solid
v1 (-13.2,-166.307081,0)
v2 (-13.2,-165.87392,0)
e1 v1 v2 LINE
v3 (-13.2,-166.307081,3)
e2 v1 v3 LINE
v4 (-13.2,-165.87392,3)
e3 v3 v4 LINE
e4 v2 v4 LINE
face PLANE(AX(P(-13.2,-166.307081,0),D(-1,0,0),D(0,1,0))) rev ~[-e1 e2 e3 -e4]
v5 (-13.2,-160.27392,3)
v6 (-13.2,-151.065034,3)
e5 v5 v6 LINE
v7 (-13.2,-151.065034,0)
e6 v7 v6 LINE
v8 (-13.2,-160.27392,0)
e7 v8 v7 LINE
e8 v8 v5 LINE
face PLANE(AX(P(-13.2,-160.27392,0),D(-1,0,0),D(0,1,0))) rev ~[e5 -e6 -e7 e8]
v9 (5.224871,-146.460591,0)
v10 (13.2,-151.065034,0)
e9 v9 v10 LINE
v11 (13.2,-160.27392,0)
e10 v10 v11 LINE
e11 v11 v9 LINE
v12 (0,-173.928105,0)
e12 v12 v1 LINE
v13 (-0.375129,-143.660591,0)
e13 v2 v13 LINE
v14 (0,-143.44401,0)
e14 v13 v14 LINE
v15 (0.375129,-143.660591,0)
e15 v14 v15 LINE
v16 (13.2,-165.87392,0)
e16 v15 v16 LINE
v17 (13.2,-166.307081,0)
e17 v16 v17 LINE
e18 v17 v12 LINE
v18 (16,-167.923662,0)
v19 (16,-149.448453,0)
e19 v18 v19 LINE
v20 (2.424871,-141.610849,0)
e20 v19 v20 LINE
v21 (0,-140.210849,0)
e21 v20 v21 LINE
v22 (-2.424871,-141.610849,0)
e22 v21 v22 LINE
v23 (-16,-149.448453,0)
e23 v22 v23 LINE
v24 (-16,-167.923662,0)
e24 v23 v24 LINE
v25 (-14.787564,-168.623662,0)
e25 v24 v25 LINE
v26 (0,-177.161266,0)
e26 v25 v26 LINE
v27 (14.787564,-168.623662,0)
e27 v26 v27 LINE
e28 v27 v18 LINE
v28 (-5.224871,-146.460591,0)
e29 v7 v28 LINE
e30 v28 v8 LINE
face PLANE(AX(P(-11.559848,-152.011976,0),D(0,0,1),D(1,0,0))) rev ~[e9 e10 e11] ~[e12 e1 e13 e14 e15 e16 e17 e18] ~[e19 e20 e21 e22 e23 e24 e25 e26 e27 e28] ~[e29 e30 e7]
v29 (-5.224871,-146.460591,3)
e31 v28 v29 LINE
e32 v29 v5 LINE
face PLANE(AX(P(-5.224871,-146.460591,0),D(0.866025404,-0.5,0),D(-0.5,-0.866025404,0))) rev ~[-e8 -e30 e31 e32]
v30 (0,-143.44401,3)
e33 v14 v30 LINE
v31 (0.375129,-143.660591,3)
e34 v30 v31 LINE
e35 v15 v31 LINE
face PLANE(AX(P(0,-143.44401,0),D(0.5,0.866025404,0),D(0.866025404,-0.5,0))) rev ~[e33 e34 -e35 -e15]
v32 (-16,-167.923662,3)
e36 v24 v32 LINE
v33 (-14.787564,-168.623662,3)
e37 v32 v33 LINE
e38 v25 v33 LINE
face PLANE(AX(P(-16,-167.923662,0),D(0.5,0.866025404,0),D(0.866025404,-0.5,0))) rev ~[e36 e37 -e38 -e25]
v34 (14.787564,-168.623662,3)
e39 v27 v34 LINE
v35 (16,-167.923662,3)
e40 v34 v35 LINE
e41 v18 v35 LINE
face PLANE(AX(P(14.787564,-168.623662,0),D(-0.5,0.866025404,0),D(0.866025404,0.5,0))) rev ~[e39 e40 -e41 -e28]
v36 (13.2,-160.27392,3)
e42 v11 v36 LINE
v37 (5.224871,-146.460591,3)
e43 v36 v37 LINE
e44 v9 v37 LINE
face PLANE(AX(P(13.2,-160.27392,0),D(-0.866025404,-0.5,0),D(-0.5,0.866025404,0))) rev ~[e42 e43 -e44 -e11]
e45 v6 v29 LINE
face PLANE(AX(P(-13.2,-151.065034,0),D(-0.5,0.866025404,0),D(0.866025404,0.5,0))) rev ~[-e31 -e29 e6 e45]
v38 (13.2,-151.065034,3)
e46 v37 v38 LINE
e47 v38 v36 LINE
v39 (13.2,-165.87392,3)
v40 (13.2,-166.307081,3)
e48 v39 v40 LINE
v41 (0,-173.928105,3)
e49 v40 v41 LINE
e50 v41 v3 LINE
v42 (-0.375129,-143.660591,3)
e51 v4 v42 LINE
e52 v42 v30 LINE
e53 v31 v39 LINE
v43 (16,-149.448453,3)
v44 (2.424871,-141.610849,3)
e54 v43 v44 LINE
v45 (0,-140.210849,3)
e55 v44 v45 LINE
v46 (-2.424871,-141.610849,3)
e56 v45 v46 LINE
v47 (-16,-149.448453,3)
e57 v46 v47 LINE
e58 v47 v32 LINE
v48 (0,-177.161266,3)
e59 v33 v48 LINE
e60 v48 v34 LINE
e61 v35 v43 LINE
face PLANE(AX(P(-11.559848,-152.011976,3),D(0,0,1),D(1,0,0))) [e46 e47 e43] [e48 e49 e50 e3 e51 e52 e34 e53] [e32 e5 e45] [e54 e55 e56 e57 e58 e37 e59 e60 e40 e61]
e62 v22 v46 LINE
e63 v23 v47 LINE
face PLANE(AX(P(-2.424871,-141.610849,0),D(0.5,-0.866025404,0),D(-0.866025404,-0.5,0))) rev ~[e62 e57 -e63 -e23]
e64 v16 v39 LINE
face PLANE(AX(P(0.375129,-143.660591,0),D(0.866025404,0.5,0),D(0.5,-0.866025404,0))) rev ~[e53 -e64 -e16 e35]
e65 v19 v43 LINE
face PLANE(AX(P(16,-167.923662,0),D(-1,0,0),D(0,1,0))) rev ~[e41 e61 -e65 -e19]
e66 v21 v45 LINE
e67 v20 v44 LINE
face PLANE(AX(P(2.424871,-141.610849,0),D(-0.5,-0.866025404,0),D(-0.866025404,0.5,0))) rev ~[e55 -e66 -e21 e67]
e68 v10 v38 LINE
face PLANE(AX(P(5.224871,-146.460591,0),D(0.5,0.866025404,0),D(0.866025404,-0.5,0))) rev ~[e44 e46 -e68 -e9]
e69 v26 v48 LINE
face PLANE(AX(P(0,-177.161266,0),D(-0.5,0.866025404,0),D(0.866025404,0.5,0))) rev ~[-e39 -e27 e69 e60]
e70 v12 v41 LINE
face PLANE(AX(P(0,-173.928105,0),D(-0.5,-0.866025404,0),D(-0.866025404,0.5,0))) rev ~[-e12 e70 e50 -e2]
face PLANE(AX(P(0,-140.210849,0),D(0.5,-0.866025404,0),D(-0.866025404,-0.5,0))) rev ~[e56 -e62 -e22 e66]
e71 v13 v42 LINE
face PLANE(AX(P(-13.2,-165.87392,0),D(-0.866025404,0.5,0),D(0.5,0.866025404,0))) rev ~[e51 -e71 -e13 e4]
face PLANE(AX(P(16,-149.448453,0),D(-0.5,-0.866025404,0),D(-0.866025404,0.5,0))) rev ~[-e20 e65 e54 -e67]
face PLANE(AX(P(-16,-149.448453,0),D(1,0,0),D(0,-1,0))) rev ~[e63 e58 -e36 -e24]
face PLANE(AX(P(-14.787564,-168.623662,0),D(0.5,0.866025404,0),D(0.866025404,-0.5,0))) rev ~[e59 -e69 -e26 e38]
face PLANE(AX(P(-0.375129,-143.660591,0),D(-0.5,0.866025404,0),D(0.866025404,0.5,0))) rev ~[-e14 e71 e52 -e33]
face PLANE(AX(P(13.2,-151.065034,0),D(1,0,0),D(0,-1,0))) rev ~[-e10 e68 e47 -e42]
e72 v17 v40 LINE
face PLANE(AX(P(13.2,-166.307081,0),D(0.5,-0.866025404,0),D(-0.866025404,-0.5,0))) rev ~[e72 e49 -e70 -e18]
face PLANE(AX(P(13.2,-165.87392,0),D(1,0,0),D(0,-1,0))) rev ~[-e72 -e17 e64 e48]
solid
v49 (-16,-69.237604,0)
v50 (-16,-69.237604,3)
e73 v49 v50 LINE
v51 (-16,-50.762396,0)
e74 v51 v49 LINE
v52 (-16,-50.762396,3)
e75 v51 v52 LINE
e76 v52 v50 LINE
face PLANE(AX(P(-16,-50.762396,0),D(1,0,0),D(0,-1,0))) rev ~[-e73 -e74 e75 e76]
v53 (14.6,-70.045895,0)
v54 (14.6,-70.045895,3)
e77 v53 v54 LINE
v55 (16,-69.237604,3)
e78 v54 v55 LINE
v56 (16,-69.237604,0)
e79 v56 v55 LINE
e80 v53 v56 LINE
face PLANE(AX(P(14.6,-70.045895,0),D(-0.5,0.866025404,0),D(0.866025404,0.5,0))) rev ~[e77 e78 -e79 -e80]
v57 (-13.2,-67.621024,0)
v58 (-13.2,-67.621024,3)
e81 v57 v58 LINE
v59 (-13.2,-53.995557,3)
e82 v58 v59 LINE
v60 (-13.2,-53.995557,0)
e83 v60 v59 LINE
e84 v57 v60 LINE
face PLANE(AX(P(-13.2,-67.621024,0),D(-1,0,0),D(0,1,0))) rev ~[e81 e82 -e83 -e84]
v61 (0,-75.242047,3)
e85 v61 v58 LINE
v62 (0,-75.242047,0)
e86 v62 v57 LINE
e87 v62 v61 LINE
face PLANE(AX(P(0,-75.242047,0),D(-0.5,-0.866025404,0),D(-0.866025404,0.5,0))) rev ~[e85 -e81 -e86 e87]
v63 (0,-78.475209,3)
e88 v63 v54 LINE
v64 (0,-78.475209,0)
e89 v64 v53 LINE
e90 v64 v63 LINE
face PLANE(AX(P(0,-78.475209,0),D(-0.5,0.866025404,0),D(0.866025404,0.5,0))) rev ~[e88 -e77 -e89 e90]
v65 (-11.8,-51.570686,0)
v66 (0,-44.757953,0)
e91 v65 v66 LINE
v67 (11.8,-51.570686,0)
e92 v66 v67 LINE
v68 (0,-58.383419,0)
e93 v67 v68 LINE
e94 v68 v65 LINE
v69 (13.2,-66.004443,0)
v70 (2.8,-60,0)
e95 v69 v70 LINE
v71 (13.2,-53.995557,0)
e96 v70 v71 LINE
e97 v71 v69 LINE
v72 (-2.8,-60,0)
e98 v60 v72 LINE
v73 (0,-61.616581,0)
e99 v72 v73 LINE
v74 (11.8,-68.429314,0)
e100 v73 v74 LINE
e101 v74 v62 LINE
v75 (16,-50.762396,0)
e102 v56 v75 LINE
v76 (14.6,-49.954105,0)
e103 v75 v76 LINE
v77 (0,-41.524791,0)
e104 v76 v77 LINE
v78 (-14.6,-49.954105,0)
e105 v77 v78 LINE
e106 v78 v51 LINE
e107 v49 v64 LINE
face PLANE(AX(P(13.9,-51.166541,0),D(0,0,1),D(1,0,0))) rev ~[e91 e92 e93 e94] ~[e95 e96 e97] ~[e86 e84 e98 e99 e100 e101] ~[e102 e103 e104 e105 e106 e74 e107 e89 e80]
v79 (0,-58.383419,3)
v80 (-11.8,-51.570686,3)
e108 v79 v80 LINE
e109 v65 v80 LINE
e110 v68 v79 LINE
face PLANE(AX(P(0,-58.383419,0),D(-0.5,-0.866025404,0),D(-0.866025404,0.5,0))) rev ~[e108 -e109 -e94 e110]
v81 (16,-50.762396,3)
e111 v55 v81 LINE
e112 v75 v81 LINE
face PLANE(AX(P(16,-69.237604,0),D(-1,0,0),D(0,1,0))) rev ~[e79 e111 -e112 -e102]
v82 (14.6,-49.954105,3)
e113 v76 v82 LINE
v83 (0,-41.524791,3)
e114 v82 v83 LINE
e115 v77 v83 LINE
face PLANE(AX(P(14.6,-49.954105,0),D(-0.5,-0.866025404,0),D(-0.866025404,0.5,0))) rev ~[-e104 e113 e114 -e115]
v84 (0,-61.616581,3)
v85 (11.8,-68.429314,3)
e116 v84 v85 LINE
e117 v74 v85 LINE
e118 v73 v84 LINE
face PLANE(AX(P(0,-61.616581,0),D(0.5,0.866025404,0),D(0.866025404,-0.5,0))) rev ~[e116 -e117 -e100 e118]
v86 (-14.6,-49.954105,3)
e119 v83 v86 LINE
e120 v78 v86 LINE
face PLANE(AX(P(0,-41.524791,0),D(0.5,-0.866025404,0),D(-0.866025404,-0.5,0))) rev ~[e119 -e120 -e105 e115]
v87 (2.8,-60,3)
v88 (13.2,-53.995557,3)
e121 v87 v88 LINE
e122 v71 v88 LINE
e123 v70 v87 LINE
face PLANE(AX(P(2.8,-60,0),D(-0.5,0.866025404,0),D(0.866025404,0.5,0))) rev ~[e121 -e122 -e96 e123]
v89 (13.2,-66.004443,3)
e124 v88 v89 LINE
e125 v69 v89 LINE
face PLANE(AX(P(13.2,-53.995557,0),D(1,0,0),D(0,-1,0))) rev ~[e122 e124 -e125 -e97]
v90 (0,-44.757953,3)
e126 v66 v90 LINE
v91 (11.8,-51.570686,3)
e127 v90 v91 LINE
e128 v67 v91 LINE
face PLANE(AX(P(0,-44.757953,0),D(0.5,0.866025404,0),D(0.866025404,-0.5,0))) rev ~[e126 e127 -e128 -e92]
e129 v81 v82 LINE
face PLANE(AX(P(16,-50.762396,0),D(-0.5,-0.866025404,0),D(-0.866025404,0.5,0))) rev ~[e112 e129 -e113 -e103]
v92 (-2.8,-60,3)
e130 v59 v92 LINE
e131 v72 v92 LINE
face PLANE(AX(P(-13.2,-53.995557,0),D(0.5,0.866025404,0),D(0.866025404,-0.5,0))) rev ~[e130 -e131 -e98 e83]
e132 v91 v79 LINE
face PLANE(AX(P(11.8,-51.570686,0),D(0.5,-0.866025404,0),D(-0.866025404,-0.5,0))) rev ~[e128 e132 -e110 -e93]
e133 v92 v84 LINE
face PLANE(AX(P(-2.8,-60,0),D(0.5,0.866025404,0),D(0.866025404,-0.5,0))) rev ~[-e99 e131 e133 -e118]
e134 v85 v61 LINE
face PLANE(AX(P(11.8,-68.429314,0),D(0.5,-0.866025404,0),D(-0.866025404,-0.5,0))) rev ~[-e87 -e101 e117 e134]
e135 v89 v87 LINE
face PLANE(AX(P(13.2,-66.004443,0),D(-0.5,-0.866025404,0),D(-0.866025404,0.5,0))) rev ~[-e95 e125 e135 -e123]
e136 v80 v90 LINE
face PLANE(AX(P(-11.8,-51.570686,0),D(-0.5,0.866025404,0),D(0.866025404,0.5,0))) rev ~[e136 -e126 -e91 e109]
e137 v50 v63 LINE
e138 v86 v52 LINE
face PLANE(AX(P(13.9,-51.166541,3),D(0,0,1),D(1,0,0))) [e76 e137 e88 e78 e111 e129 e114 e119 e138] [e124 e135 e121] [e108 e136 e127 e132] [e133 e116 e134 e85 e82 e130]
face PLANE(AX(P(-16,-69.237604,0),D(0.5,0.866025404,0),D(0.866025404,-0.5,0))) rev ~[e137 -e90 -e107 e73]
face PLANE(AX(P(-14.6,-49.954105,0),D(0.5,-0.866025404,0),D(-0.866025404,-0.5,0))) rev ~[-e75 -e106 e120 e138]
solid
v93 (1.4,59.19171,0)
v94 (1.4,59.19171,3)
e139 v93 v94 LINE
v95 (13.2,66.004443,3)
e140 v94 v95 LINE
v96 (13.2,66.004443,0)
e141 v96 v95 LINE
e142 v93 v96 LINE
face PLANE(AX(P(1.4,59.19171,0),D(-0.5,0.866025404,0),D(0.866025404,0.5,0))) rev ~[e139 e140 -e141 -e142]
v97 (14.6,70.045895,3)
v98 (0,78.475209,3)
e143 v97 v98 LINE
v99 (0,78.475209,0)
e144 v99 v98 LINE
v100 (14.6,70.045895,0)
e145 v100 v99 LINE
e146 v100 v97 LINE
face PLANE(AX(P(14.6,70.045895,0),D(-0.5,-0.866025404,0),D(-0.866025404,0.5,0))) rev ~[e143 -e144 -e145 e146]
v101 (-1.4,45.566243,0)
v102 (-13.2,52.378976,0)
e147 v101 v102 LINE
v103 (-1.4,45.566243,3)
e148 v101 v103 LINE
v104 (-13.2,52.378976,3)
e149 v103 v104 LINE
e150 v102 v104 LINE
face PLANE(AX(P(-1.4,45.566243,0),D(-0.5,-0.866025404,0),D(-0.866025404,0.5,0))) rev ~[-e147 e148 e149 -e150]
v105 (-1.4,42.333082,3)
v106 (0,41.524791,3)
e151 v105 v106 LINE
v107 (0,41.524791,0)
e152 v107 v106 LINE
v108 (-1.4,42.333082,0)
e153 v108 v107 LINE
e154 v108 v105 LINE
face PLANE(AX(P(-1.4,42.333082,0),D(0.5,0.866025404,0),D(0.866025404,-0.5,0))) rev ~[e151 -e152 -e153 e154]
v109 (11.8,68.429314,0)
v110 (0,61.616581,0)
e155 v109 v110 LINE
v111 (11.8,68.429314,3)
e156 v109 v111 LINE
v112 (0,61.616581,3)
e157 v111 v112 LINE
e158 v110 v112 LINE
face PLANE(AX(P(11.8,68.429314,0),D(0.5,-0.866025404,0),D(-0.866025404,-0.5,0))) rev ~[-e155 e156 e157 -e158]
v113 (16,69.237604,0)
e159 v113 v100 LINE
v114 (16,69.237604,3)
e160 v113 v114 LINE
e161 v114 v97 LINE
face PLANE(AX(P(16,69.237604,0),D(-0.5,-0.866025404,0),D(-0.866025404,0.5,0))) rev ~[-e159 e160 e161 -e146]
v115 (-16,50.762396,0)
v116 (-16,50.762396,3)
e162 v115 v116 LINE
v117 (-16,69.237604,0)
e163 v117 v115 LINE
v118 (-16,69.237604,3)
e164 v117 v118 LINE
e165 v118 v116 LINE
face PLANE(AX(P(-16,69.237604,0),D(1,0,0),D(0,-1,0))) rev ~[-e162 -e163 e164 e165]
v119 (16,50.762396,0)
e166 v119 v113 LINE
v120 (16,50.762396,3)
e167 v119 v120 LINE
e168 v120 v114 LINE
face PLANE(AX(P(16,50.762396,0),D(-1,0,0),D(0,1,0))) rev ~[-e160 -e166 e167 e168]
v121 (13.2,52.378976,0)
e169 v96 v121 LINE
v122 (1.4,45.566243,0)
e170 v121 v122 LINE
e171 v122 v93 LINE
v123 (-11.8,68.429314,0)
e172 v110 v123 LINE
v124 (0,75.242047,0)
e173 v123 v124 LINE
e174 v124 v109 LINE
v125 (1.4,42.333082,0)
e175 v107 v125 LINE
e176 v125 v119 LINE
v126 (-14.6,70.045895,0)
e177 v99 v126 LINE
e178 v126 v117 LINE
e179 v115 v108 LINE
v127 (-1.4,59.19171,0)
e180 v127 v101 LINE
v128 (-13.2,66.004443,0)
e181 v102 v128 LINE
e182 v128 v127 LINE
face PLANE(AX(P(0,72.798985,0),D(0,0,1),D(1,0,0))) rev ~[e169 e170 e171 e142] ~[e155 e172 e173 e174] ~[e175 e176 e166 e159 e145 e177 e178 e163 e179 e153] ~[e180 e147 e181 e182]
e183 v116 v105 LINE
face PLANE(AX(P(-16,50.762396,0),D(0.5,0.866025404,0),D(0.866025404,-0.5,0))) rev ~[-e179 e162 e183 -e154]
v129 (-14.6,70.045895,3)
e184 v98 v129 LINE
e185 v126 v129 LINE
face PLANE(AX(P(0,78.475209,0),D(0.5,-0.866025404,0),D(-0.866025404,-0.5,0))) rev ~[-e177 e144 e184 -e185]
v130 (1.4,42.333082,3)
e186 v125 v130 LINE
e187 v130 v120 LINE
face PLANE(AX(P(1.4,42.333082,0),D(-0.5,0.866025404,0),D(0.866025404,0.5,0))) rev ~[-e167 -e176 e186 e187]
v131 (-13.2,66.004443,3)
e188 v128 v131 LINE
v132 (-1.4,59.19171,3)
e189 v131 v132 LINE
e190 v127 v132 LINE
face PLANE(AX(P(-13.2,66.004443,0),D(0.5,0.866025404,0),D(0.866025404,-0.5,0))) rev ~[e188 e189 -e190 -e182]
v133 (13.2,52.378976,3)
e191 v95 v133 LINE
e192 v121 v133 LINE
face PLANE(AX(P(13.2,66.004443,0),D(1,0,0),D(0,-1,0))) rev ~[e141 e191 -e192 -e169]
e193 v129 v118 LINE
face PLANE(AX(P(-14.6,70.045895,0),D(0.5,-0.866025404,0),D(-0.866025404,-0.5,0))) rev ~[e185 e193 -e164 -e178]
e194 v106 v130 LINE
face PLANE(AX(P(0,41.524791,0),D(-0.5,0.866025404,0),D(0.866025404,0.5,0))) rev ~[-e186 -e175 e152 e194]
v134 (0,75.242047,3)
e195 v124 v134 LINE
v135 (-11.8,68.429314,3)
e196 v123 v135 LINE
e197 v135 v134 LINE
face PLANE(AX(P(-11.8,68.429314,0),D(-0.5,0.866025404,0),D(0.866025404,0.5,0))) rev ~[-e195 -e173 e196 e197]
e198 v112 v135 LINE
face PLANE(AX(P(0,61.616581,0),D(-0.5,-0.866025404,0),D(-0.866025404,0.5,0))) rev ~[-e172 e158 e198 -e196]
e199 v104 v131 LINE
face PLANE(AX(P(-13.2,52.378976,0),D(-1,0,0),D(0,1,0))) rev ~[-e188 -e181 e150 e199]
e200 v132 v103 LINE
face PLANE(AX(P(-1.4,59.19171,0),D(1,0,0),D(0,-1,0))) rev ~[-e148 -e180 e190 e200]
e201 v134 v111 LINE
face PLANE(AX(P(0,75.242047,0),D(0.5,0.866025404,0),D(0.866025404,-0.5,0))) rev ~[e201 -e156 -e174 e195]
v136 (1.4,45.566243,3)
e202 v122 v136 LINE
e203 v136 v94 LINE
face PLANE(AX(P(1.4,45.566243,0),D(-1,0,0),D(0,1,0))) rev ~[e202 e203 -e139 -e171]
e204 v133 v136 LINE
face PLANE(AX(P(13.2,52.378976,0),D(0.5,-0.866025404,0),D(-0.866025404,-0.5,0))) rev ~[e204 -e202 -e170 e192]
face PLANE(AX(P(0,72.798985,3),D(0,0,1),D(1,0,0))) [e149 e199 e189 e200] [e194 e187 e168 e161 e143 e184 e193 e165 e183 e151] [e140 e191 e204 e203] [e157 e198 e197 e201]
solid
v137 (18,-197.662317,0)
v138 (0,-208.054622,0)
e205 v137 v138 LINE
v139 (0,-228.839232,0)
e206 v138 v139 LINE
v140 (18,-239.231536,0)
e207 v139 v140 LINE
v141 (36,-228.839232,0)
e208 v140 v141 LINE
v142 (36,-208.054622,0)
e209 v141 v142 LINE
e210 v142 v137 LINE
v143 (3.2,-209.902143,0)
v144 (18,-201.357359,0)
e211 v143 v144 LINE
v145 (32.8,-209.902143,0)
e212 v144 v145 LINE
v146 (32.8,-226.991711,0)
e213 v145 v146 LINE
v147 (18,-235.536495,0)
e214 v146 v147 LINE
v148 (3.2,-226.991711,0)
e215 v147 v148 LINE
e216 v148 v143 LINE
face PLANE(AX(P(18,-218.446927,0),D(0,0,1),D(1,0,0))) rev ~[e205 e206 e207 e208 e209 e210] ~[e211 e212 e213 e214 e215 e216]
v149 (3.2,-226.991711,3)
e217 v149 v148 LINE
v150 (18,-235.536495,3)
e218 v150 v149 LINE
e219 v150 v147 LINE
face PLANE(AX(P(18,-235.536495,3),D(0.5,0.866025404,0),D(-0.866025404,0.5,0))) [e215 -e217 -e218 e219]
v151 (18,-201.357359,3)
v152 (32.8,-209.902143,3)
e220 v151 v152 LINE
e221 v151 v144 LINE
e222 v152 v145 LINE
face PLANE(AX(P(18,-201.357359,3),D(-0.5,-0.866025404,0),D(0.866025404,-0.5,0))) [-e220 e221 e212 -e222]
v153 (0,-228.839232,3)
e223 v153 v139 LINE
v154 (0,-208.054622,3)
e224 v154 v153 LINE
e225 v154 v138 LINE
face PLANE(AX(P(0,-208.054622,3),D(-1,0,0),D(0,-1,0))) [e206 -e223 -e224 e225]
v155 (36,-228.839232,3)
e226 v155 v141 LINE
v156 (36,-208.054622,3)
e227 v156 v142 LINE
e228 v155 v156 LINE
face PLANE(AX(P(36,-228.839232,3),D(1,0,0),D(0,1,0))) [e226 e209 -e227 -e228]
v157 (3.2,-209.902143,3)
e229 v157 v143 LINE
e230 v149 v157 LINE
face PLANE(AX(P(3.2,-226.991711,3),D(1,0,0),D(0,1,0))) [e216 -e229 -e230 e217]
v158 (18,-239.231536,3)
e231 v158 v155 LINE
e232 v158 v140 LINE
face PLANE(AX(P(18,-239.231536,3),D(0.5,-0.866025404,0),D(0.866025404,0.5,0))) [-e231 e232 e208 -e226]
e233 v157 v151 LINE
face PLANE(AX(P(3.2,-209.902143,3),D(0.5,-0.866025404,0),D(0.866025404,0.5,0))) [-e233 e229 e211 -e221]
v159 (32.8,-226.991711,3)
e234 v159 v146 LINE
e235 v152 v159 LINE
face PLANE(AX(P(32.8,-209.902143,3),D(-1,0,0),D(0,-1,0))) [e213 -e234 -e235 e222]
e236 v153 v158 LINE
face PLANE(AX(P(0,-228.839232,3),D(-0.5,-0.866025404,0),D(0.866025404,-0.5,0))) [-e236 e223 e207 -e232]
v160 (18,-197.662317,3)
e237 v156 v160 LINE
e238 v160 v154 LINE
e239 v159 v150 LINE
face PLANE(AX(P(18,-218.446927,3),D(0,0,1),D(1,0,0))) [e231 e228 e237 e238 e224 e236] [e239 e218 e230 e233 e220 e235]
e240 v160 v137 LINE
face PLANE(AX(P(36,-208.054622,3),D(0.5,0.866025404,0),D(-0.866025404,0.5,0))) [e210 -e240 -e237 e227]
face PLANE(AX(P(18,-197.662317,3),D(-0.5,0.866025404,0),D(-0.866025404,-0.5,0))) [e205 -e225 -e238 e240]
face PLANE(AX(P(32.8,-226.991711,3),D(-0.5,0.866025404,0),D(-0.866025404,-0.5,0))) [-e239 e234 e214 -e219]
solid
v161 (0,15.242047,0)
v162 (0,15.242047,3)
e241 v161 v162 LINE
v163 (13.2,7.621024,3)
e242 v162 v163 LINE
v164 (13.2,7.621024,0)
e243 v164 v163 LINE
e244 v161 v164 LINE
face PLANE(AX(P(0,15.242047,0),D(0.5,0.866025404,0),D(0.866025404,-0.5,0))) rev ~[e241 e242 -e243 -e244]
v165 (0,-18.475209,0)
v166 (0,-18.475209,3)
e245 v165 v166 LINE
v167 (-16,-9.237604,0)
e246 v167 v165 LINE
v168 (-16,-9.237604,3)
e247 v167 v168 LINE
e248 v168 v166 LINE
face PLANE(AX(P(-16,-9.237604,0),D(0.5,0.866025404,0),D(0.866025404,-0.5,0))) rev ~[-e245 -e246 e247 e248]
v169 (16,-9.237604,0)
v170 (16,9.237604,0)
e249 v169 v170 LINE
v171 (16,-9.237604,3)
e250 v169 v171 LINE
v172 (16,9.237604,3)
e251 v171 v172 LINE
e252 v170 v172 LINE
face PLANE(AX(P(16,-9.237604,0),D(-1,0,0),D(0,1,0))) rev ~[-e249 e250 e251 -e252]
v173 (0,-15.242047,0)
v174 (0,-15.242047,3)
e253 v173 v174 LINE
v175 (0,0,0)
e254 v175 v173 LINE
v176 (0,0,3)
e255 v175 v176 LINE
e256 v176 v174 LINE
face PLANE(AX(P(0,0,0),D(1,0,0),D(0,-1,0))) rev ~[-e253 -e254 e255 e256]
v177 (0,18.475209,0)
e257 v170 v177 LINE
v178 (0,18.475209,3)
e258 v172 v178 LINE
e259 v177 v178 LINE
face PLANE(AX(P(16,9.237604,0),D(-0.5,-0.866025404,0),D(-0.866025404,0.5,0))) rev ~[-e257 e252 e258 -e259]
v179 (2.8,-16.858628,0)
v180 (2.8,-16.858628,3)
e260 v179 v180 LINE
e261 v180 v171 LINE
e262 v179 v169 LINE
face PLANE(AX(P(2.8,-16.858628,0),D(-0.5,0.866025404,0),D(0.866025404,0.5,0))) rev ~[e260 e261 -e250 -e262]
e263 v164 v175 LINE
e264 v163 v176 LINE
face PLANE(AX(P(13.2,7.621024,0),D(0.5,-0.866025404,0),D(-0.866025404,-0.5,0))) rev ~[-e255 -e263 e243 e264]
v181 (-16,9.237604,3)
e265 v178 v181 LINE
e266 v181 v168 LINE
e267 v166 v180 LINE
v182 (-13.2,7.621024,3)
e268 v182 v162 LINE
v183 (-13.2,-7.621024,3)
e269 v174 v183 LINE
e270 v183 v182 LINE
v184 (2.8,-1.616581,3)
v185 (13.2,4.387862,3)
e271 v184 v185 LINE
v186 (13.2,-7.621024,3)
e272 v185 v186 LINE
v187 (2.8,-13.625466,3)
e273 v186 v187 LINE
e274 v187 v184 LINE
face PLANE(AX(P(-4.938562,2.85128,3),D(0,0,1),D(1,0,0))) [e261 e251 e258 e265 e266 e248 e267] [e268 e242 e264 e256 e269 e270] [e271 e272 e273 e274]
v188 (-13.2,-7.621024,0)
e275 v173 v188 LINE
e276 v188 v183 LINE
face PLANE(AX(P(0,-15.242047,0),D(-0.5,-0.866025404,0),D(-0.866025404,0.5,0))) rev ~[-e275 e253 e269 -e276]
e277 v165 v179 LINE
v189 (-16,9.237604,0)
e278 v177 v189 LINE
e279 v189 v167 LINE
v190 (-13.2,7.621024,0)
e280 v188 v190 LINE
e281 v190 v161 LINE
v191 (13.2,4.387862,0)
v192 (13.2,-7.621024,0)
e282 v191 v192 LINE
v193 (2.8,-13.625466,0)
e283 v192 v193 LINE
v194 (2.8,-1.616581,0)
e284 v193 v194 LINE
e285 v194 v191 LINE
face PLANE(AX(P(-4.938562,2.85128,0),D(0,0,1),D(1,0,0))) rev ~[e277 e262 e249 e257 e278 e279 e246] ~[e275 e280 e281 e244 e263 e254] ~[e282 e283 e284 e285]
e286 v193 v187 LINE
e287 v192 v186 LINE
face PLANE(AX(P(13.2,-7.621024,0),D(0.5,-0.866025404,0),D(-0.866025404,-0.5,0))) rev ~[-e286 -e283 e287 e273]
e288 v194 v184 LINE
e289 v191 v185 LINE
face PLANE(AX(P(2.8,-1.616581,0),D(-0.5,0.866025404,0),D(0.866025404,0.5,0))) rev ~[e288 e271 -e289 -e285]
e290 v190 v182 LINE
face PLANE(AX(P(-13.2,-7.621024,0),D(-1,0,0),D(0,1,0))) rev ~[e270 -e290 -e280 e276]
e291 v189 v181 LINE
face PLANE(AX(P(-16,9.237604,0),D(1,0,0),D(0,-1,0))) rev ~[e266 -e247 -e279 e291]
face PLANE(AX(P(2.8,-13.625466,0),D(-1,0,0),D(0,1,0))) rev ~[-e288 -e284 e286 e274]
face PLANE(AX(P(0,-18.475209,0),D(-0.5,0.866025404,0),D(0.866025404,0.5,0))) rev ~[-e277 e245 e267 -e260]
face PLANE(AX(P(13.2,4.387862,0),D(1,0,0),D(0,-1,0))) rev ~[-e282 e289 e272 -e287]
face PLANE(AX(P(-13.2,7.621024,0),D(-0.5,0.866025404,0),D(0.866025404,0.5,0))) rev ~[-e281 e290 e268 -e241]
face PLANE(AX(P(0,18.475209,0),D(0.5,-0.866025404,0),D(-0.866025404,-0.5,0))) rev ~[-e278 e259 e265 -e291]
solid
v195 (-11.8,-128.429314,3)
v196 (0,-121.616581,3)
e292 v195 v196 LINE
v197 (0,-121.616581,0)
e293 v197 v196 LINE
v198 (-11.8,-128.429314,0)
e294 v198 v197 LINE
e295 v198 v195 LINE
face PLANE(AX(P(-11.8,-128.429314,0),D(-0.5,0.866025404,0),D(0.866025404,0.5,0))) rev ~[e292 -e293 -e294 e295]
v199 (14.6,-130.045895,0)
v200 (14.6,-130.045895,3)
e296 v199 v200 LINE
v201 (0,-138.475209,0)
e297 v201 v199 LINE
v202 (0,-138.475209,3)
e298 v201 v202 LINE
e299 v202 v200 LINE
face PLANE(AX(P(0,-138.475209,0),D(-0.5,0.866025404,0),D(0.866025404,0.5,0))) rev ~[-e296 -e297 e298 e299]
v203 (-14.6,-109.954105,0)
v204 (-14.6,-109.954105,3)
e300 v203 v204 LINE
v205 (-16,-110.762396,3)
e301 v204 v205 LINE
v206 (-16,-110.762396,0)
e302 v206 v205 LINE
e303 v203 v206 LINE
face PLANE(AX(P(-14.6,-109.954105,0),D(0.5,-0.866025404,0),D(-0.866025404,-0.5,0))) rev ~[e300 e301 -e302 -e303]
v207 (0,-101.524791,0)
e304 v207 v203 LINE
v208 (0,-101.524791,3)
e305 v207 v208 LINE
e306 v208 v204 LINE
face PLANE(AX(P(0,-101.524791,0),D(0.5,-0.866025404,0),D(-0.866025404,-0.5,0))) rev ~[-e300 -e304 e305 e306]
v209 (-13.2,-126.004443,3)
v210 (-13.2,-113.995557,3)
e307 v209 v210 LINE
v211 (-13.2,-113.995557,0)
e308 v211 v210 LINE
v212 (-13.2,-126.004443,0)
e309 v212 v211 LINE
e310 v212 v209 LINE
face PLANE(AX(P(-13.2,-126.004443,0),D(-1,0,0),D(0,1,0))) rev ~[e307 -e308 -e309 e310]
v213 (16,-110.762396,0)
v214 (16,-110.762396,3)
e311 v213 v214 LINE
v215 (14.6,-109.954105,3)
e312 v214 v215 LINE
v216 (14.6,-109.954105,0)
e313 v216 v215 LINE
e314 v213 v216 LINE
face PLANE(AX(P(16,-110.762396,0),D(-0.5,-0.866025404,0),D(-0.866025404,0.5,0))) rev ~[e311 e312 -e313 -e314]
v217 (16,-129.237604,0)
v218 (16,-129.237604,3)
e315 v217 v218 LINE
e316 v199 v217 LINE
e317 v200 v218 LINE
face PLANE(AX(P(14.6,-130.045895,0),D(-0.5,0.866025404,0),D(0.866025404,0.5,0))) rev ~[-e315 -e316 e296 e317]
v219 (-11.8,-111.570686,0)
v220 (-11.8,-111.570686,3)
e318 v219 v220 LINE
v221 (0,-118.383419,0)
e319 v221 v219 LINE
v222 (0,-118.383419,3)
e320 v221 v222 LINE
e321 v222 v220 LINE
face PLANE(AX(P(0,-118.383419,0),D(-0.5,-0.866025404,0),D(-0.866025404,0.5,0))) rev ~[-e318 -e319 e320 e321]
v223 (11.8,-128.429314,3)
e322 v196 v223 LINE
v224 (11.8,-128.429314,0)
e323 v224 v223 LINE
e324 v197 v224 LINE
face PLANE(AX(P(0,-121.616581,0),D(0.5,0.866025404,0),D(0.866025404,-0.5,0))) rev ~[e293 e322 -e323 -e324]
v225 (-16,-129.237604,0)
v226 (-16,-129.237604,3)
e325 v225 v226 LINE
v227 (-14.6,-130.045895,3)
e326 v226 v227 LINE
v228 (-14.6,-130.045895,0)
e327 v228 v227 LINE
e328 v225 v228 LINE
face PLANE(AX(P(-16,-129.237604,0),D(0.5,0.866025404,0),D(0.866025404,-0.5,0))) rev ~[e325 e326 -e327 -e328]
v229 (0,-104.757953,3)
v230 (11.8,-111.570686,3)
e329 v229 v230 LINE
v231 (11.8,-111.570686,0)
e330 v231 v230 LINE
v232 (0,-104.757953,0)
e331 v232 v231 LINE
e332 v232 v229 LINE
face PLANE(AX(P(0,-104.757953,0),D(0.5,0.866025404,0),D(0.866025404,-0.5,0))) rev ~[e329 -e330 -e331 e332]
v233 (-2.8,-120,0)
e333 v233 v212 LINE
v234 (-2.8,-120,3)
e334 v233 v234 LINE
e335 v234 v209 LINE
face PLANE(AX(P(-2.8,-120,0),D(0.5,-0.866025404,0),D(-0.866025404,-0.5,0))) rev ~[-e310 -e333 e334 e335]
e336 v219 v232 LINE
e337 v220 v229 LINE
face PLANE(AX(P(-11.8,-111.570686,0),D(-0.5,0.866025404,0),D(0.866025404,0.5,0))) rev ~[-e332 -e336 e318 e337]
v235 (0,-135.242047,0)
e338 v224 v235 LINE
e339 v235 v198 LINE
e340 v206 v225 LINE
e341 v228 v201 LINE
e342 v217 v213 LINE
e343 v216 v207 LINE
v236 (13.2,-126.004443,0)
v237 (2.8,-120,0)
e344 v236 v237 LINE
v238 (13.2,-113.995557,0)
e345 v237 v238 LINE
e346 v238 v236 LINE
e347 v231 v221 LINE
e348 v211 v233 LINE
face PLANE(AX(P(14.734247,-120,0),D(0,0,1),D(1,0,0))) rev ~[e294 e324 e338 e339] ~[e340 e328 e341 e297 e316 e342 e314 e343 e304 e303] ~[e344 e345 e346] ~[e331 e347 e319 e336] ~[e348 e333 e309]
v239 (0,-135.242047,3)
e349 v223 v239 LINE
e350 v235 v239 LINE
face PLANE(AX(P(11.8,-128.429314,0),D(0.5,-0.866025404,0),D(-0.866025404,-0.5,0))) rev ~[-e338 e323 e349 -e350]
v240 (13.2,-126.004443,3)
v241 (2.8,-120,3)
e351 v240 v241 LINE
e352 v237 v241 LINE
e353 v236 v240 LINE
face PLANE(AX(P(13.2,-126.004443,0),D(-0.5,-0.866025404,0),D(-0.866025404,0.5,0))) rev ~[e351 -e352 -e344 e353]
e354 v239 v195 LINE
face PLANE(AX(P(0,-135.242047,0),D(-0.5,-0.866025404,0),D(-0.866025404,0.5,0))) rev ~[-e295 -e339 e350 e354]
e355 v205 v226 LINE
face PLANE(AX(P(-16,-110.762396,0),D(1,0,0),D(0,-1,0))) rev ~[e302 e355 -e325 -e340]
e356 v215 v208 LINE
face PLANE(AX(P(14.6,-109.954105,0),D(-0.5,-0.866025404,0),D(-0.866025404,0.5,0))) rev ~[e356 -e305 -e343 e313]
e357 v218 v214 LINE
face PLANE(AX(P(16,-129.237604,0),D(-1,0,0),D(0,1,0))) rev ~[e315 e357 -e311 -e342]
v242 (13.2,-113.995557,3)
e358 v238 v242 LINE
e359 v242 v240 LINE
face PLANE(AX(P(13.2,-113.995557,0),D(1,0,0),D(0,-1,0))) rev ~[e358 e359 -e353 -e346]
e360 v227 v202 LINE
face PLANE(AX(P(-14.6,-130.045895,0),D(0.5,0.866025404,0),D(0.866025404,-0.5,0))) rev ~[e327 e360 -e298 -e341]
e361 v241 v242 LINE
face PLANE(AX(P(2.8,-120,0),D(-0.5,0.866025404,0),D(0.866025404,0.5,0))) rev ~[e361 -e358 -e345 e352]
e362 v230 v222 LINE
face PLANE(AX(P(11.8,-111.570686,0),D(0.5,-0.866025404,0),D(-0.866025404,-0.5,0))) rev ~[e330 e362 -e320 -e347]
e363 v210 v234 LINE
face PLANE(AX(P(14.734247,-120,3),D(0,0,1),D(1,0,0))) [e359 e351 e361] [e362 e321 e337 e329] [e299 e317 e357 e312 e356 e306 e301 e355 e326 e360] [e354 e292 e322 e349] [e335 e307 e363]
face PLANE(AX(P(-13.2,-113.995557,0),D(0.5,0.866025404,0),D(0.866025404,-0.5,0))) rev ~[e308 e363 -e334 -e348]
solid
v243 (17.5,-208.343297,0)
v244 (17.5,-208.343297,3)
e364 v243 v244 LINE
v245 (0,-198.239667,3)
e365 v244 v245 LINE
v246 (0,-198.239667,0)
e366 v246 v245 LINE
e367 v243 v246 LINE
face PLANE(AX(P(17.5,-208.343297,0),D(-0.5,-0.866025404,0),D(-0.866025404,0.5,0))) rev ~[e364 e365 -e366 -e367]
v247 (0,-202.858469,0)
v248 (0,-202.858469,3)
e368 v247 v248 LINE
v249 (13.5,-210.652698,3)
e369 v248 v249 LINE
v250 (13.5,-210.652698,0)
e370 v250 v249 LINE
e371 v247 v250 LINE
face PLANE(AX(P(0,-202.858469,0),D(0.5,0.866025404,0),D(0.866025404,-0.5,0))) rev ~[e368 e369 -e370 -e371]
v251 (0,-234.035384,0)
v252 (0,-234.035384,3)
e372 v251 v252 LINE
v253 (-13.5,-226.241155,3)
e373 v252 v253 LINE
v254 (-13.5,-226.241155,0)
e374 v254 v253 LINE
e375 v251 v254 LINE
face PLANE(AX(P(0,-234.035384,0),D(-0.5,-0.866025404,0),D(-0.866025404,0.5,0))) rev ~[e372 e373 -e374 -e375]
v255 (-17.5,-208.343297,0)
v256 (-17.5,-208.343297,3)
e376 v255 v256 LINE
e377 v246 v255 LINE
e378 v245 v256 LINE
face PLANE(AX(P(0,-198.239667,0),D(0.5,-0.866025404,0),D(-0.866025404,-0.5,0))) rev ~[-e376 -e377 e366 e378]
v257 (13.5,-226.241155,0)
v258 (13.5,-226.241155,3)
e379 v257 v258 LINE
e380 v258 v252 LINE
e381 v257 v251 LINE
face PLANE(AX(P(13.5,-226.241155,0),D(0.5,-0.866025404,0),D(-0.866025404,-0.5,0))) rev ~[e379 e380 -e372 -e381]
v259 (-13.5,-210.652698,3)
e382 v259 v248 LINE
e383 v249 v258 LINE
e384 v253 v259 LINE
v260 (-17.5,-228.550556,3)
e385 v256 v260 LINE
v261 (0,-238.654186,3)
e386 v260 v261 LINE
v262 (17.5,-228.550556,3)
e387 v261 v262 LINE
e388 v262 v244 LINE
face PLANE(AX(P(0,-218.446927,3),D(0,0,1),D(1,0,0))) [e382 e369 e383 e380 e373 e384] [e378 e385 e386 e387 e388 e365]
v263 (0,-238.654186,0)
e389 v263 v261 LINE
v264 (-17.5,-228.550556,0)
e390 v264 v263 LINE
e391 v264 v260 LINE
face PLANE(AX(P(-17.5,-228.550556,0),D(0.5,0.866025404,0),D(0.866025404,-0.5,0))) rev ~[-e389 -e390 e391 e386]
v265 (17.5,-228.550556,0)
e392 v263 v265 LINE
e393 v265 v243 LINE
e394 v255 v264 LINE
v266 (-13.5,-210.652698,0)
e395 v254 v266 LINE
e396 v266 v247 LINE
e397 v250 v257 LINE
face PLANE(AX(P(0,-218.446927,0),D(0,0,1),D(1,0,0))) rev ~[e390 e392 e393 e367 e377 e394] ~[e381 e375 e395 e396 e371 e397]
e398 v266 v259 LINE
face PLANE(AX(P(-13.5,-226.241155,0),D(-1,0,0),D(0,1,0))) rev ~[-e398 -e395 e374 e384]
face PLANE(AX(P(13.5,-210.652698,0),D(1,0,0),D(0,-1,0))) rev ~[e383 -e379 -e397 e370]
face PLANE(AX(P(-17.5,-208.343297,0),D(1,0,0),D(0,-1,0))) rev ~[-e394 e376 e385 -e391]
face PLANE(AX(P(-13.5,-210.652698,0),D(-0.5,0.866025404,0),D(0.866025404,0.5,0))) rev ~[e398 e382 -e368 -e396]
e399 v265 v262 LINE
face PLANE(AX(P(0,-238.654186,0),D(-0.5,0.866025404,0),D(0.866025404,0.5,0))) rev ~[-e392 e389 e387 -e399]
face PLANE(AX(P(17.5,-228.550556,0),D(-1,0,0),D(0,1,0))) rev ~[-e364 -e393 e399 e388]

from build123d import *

# Parameters (mm, degrees)
F1_DEPTH  = 3
F3_DEPTH  = 3
F5_DEPTH  = 3
F7_DEPTH  = 3
F9_DEPTH  = 3
F11_DEPTH = 3
F13_DEPTH = 3


with BuildPart() as f1:
    # F0 (on Top) → F1 (new body)
    with BuildSketch(Plane.XY):
        Polygon((13.2, 7.6210235533), (16, 9.237604307), (0, 18.4752086141), (-16, 9.237604307), (-16, -9.237604307), (0, -18.4752086141), (0, -15.2420471066), (-13.2, -7.6210235533), (-13.2, 7.6210235533), (0, 15.2420471066), align=None)
        Polygon((16, 6.0044427996), (16, 9.237604307), (13.2, 7.6210235533), (13.2, 4.3878620458), align=None)
        Polygon((16, -9.237604307), (16, 6.0044427996), (13.2, 4.3878620458), (13.2, -7.6210235533), (2.8, -13.6254663529), (2.8, -16.8586278603), align=None)
        Polygon((0, -18.4752086141), (2.8, -16.8586278603), (2.8, -13.6254663529), (0, -15.2420471066), align=None)
        Polygon((13.2, 4.3878620458), (13.2, 7.6210235533), (0, 0), (0, -15.2420471066), (2.8, -13.6254663529), (2.8, -1.6165807537), align=None)
    extrude(amount=F1_DEPTH)


with BuildPart() as f3:
    # F2 (on Top) → F3 (new body)
    with BuildSketch(Plane.XY):
        Polygon((13.2, -52.3789764467), (16, -50.762395693), (14.6, -49.9541053161), (11.8, -51.5706860698), align=None)
        Polygon((16, -52.3789764467), (16, -50.762395693), (13.2, -52.3789764467), (13.2, -53.9955572004), align=None)
        Polygon((16, -67.6210235533), (16, -52.3789764467), (13.2, -53.9955572004), (13.2, -66.0044427996), align=None)
        Polygon((11.8, -51.5706860698), (14.6, -49.9541053161), (0, -41.5247913859), (-14.6, -49.9541053161), (-11.8, -51.5706860698), (0, -44.7579528934), align=None)
        Polygon((16, -69.237604307), (16, -67.6210235533), (13.2, -66.0044427996), (13.2, -67.6210235533), align=None)
        Polygon((14.6, -70.0458946839), (16, -69.237604307), (13.2, -67.6210235533), (11.8, -68.4293139302), align=None)
        Polygon((-11.8, -51.5706860698), (-14.6, -49.9541053161), (-16, -50.762395693), (-13.2, -52.3789764467), align=None)
        Polygon((0, -78.4752086141), (14.6, -70.0458946839), (11.8, -68.4293139302), (0, -75.2420471066), (-13.2, -67.6210235533), (-13.2, -53.9955572004), (-16, -52.3789764467), (-16, -69.237604307), align=None)
        Polygon((-13.2, -52.3789764467), (-16, -50.762395693), (-16, -52.3789764467), (-13.2, -53.9955572004), align=None)
        Polygon((0, -60), (1.4, -59.1917096231), (0, -58.3834192463), (-1.4, -59.1917096231), align=None)
        Polygon((1.4, -60.8082903769), (0, -60), (-1.4, -59.1917096231), (-2.8, -60), (0, -61.6165807537), align=None)
        Polygon((13.2, -67.6210235533), (13.2, -66.0044427996), (2.8, -60), (1.4, -60.8082903769), align=None)
        Polygon((2.8, -60), (1.4, -59.1917096231), (0, -60), (1.4, -60.8082903769), align=None)
        Polygon((13.2, -53.9955572004), (13.2, -52.3789764467), (1.4, -59.1917096231), (2.8, -60), align=None)
        Polygon((1.4, -59.1917096231), (13.2, -52.3789764467), (11.8, -51.5706860698), (0, -58.3834192463), align=None)
        Polygon((11.8, -68.4293139302), (13.2, -67.6210235533), (1.4, -60.8082903769), (0, -61.6165807537), align=None)
        Polygon((-2.8, -60), (-1.4, -59.1917096231), (-13.2, -52.3789764467), (-13.2, -53.9955572004), align=None)
        Polygon((-1.4, -59.1917096231), (0, -58.3834192463), (-11.8, -51.5706860698), (-13.2, -52.3789764467), align=None)
    extrude(amount=F3_DEPTH)


with BuildPart() as f5:
    # F4 (on Top) → F5 (new body)
    with BuildSketch(Plane.XY):
        Polygon((11.8, 68.4293139302), (14.6, 70.0458946839), (0, 78.4752086141), (-14.6, 70.0458946839), (-11.8, 68.4293139302), (0, 75.2420471066), align=None)
        Polygon((-11.8, 68.4293139302), (-14.6, 70.0458946839), (-16, 69.237604307), (-13.2, 67.6210235533), align=None)
        Polygon((-13.2, 66.0044427996), (-13.2, 67.6210235533), (-16, 69.237604307), (-16, 67.6210235533), align=None)
        Polygon((0, 58.3834192463), (0, 60), (-13.2, 67.6210235533), (-13.2, 66.0044427996), (-1.4, 59.1917096231), align=None)
        Polygon((0, 60), (13.2, 67.6210235533), (11.8, 68.4293139302), (0, 61.6165807537), (-11.8, 68.4293139302), (-13.2, 67.6210235533), align=None)
        Polygon((-13.2, 52.3789764467), (-13.2, 66.0044427996), (-16, 67.6210235533), (-16, 50.762395693), (-1.4, 42.3330817628), (-1.4, 45.5662432703), align=None)
        Polygon((0, 44.7579528934), (0, 58.3834192463), (-1.4, 59.1917096231), (-1.4, 45.5662432703), align=None)
        Polygon((1.4, 45.5662432703), (1.4, 59.1917096231), (0, 58.3834192463), (0, 44.7579528934), align=None)
        Polygon((-1.4, 42.3330817628), (0, 41.5247913859), (0, 44.7579528934), (-1.4, 45.5662432703), align=None)
        Polygon((0, 41.5247913859), (1.4, 42.3330817628), (1.4, 45.5662432703), (0, 44.7579528934), align=None)
        Polygon((16, 50.762395693), (16, 67.6210235533), (13.2, 66.0044427996), (13.2, 52.3789764467), (1.4, 45.5662432703), (1.4, 42.3330817628), align=None)
        Polygon((13.2, 66.0044427996), (13.2, 67.6210235533), (0, 60), (0, 58.3834192463), (1.4, 59.1917096231), align=None)
        Polygon((16, 67.6210235533), (16, 69.237604307), (13.2, 67.6210235533), (13.2, 66.0044427996), align=None)
        Polygon((13.2, 67.6210235533), (16, 69.237604307), (14.6, 70.0458946839), (11.8, 68.4293139302), align=None)
    extrude(amount=F5_DEPTH)


with BuildPart() as f7:
    # F6 (on Top) → F7 (new body)
    with BuildSketch(Plane.XY):
        Polygon((16, -127.6210235533), (16, -112.3789764467), (13.2, -113.9955572004), (13.2, -126.0044427996), align=None)
        Polygon((0, -138.4752086141), (14.6, -130.0458946839), (11.8, -128.4293139302), (0, -135.2420471066), (-11.8, -128.4293139302), (-14.6, -130.0458946839), align=None)
        Polygon((-13.2, -113.9955572004), (-16, -112.3789764467), (-16, -127.6210235533), (-13.2, -126.0044427996), align=None)
        Polygon((11.8, -111.5706860698), (14.6, -109.9541053161), (0, -101.5247913859), (-14.6, -109.9541053161), (-11.8, -111.5706860698), (0, -104.7579528934), align=None)
        Polygon((16, -112.3789764467), (16, -110.762395693), (13.2, -112.3789764467), (13.2, -113.9955572004), align=None)
        Polygon((16, -129.237604307), (16, -127.6210235533), (13.2, -126.0044427996), (13.2, -127.6210235533), align=None)
        Polygon((14.6, -130.0458946839), (16, -129.237604307), (13.2, -127.6210235533), (11.8, -128.4293139302), align=None)
        Polygon((-11.8, -128.4293139302), (-13.2, -127.6210235533), (-16, -129.237604307), (-14.6, -130.0458946839), align=None)
        Polygon((-16, -129.237604307), (-13.2, -127.6210235533), (-13.2, -126.0044427996), (-16, -127.6210235533), align=None)
        Polygon((-13.2, -112.3789764467), (-16, -110.762395693), (-16, -112.3789764467), (-13.2, -113.9955572004), align=None)
        Polygon((-11.8, -111.5706860698), (-14.6, -109.9541053161), (-16, -110.762395693), (-13.2, -112.3789764467), align=None)
        Polygon((13.2, -112.3789764467), (16, -110.762395693), (14.6, -109.9541053161), (11.8, -111.5706860698), align=None)
        Polygon((-13.2, -127.6210235533), (-1.4, -120.8082903769), (-2.8, -120), (-13.2, -126.0044427996), align=None)
        Polygon((0, -121.6165807537), (-1.4, -120.8082903769), (-13.2, -127.6210235533), (-11.8, -128.4293139302), align=None)
        Polygon((-2.8, -120), (-1.4, -119.1917096231), (-13.2, -112.3789764467), (-13.2, -113.9955572004), align=None)
        Polygon((-1.4, -119.1917096231), (0, -118.3834192463), (-11.8, -111.5706860698), (-13.2, -112.3789764467), align=None)
        Polygon((0, -120), (1.4, -119.1917096231), (0, -118.3834192463), (-1.4, -119.1917096231), align=None)
        Polygon((-1.4, -120.8082903769), (0, -120), (-1.4, -119.1917096231), (-2.8, -120), align=None)
        Polygon((1.4, -120.8082903769), (0, -120), (-1.4, -120.8082903769), (0, -121.6165807537), align=None)
        Polygon((2.8, -120), (1.4, -119.1917096231), (0, -120), (1.4, -120.8082903769), align=None)
        Polygon((13.2, -127.6210235533), (13.2, -126.0044427996), (2.8, -120), (1.4, -120.8082903769), align=None)
        Polygon((11.8, -128.4293139302), (13.2, -127.6210235533), (1.4, -120.8082903769), (0, -121.6165807537), align=None)
        Polygon((13.2, -113.9955572004), (13.2, -112.3789764467), (1.4, -119.1917096231), (2.8, -120), align=None)
        Polygon((1.4, -119.1917096231), (13.2, -112.3789764467), (11.8, -111.5706860698), (0, -118.3834192463), align=None)
    extrude(amount=F7_DEPTH)


with BuildPart() as f9:
    # F8 (on Top) → F9 (new body)
    with BuildSketch(Plane.XY):
        Polygon((-5.2248711306, -146.4605912422), (-2.4248711306, -141.610848981), (-16, -149.4484532881), (-16, -165.1236619021), (-13.2, -160.2739196409), (-13.2, -151.0650340418), align=None)
        Polygon((-0.8082903769, -141.610848981), (-1.2124355653, -140.910848981), (-2.4248711306, -141.610848981), (-5.2248711306, -146.4605912422), (-2.8, -145.0605912422), align=None)
        Polygon((-0.8082903769, -141.610848981), (0, -140.210848981), (-1.2124355653, -140.910848981), align=None)
        Polygon((0.8082903769, -141.610848981), (0, -140.210848981), (-0.8082903769, -141.610848981), (0, -143.010848981), align=None)
        Polygon((0, -143.010848981), (-0.8082903769, -141.610848981), (-2.8, -145.0605912422), (-0.3751288694, -143.6605912422), align=None)
        Polygon((0.3751288694, -143.6605912422), (0, -143.010848981), (-0.3751288694, -143.6605912422), (0, -143.4440104885), align=None)
        Polygon((2.8, -145.0605912422), (0.8082903769, -141.610848981), (0, -143.010848981), (0.3751288694, -143.6605912422), align=None)
        Polygon((5.2248711306, -146.4605912422), (2.4248711306, -141.610848981), (1.2124355653, -140.910848981), (0.8082903769, -141.610848981), (2.8, -145.0605912422), align=None)
        Polygon((0.8082903769, -141.610848981), (1.2124355653, -140.910848981), (0, -140.210848981), align=None)
        Polygon((16, -165.1236619021), (16, -149.4484532881), (2.4248711306, -141.610848981), (5.2248711306, -146.4605912422), (13.2, -151.0650340418), (13.2, -160.2739196409), align=None)
        Polygon((13.2, -165.8739196409), (13.2, -163.0739196409), (2.8, -145.0605912422), (0.3751288694, -143.6605912422), align=None)
        Polygon((-0.3751288694, -143.6605912422), (-2.8, -145.0605912422), (-13.2, -163.0739196409), (-13.2, -165.8739196409), align=None)
        Polygon((-13.2, -163.0739196409), (-2.8, -145.0605912422), (-5.2248711306, -146.4605912422), (-13.2, -160.2739196409), align=None)
        Polygon((13.2, -163.0739196409), (13.2, -160.2739196409), (5.2248711306, -146.4605912422), (2.8, -145.0605912422), align=None)
        Polygon((16, -167.9236619021), (16, -165.1236619021), (13.2, -160.2739196409), (13.2, -163.0739196409), align=None)
        Polygon((14.7875644347, -168.6236619021), (16, -167.9236619021), (13.2, -163.0739196409), (13.2, -165.8739196409), align=None)
        Polygon((0, -177.1612662092), (14.7875644347, -168.6236619021), (13.2, -165.8739196409), (13.2, -166.3070811484), (0, -173.9281047017), (-13.2, -166.3070811484), (-13.2, -165.8739196409), (-14.7875644347, -168.6236619021), align=None)
        Polygon((-16, -167.9236619021), (-14.7875644347, -168.6236619021), (-13.2, -165.8739196409), (-13.2, -163.0739196409), align=None)
        Polygon((-16, -165.1236619021), (-16, -167.9236619021), (-13.2, -163.0739196409), (-13.2, -160.2739196409), align=None)
    extrude(amount=F9_DEPTH)


with BuildPart() as f11:
    # F10 (on Top) → F11 (new body)
    with BuildSketch(Plane.XY):
        Polygon((17.5, -228.550556477), (17.5, -208.3432970553), (0, -198.2396673445), (-17.5, -208.3432970553), (-17.5, -228.550556477), (0, -238.6541861878), align=None)
        Polygon((-13.5, -226.2411554002), (-13.5, -210.6526981321), (0, -202.858469498), (13.5, -210.6526981321), (13.5, -226.2411554002), (0, -234.0353840343), align=None, mode=Mode.SUBTRACT)
    extrude(amount=F11_DEPTH)


with BuildPart() as f13:
    # F12 (on face) → F13 (new body)
    with BuildSketch(Plane.XY.offset(3)):
        Polygon((0, -208.0546219208), (0, -228.8392316116), (18, -239.231536457), (36, -228.8392316116), (36, -208.0546219208), (18, -197.6623170753), align=None)
        Polygon((18, -235.5364947342), (3.2, -226.9917107502), (3.2, -209.9021427822), (18, -201.3573587982), (32.8, -209.9021427822), (32.8, -226.9917107502), align=None, mode=Mode.SUBTRACT)
    extrude(amount=-F13_DEPTH)


solid = Compound([f1.part, f3.part, f5.part, f7.part, f9.part, f11.part, f13.part])
